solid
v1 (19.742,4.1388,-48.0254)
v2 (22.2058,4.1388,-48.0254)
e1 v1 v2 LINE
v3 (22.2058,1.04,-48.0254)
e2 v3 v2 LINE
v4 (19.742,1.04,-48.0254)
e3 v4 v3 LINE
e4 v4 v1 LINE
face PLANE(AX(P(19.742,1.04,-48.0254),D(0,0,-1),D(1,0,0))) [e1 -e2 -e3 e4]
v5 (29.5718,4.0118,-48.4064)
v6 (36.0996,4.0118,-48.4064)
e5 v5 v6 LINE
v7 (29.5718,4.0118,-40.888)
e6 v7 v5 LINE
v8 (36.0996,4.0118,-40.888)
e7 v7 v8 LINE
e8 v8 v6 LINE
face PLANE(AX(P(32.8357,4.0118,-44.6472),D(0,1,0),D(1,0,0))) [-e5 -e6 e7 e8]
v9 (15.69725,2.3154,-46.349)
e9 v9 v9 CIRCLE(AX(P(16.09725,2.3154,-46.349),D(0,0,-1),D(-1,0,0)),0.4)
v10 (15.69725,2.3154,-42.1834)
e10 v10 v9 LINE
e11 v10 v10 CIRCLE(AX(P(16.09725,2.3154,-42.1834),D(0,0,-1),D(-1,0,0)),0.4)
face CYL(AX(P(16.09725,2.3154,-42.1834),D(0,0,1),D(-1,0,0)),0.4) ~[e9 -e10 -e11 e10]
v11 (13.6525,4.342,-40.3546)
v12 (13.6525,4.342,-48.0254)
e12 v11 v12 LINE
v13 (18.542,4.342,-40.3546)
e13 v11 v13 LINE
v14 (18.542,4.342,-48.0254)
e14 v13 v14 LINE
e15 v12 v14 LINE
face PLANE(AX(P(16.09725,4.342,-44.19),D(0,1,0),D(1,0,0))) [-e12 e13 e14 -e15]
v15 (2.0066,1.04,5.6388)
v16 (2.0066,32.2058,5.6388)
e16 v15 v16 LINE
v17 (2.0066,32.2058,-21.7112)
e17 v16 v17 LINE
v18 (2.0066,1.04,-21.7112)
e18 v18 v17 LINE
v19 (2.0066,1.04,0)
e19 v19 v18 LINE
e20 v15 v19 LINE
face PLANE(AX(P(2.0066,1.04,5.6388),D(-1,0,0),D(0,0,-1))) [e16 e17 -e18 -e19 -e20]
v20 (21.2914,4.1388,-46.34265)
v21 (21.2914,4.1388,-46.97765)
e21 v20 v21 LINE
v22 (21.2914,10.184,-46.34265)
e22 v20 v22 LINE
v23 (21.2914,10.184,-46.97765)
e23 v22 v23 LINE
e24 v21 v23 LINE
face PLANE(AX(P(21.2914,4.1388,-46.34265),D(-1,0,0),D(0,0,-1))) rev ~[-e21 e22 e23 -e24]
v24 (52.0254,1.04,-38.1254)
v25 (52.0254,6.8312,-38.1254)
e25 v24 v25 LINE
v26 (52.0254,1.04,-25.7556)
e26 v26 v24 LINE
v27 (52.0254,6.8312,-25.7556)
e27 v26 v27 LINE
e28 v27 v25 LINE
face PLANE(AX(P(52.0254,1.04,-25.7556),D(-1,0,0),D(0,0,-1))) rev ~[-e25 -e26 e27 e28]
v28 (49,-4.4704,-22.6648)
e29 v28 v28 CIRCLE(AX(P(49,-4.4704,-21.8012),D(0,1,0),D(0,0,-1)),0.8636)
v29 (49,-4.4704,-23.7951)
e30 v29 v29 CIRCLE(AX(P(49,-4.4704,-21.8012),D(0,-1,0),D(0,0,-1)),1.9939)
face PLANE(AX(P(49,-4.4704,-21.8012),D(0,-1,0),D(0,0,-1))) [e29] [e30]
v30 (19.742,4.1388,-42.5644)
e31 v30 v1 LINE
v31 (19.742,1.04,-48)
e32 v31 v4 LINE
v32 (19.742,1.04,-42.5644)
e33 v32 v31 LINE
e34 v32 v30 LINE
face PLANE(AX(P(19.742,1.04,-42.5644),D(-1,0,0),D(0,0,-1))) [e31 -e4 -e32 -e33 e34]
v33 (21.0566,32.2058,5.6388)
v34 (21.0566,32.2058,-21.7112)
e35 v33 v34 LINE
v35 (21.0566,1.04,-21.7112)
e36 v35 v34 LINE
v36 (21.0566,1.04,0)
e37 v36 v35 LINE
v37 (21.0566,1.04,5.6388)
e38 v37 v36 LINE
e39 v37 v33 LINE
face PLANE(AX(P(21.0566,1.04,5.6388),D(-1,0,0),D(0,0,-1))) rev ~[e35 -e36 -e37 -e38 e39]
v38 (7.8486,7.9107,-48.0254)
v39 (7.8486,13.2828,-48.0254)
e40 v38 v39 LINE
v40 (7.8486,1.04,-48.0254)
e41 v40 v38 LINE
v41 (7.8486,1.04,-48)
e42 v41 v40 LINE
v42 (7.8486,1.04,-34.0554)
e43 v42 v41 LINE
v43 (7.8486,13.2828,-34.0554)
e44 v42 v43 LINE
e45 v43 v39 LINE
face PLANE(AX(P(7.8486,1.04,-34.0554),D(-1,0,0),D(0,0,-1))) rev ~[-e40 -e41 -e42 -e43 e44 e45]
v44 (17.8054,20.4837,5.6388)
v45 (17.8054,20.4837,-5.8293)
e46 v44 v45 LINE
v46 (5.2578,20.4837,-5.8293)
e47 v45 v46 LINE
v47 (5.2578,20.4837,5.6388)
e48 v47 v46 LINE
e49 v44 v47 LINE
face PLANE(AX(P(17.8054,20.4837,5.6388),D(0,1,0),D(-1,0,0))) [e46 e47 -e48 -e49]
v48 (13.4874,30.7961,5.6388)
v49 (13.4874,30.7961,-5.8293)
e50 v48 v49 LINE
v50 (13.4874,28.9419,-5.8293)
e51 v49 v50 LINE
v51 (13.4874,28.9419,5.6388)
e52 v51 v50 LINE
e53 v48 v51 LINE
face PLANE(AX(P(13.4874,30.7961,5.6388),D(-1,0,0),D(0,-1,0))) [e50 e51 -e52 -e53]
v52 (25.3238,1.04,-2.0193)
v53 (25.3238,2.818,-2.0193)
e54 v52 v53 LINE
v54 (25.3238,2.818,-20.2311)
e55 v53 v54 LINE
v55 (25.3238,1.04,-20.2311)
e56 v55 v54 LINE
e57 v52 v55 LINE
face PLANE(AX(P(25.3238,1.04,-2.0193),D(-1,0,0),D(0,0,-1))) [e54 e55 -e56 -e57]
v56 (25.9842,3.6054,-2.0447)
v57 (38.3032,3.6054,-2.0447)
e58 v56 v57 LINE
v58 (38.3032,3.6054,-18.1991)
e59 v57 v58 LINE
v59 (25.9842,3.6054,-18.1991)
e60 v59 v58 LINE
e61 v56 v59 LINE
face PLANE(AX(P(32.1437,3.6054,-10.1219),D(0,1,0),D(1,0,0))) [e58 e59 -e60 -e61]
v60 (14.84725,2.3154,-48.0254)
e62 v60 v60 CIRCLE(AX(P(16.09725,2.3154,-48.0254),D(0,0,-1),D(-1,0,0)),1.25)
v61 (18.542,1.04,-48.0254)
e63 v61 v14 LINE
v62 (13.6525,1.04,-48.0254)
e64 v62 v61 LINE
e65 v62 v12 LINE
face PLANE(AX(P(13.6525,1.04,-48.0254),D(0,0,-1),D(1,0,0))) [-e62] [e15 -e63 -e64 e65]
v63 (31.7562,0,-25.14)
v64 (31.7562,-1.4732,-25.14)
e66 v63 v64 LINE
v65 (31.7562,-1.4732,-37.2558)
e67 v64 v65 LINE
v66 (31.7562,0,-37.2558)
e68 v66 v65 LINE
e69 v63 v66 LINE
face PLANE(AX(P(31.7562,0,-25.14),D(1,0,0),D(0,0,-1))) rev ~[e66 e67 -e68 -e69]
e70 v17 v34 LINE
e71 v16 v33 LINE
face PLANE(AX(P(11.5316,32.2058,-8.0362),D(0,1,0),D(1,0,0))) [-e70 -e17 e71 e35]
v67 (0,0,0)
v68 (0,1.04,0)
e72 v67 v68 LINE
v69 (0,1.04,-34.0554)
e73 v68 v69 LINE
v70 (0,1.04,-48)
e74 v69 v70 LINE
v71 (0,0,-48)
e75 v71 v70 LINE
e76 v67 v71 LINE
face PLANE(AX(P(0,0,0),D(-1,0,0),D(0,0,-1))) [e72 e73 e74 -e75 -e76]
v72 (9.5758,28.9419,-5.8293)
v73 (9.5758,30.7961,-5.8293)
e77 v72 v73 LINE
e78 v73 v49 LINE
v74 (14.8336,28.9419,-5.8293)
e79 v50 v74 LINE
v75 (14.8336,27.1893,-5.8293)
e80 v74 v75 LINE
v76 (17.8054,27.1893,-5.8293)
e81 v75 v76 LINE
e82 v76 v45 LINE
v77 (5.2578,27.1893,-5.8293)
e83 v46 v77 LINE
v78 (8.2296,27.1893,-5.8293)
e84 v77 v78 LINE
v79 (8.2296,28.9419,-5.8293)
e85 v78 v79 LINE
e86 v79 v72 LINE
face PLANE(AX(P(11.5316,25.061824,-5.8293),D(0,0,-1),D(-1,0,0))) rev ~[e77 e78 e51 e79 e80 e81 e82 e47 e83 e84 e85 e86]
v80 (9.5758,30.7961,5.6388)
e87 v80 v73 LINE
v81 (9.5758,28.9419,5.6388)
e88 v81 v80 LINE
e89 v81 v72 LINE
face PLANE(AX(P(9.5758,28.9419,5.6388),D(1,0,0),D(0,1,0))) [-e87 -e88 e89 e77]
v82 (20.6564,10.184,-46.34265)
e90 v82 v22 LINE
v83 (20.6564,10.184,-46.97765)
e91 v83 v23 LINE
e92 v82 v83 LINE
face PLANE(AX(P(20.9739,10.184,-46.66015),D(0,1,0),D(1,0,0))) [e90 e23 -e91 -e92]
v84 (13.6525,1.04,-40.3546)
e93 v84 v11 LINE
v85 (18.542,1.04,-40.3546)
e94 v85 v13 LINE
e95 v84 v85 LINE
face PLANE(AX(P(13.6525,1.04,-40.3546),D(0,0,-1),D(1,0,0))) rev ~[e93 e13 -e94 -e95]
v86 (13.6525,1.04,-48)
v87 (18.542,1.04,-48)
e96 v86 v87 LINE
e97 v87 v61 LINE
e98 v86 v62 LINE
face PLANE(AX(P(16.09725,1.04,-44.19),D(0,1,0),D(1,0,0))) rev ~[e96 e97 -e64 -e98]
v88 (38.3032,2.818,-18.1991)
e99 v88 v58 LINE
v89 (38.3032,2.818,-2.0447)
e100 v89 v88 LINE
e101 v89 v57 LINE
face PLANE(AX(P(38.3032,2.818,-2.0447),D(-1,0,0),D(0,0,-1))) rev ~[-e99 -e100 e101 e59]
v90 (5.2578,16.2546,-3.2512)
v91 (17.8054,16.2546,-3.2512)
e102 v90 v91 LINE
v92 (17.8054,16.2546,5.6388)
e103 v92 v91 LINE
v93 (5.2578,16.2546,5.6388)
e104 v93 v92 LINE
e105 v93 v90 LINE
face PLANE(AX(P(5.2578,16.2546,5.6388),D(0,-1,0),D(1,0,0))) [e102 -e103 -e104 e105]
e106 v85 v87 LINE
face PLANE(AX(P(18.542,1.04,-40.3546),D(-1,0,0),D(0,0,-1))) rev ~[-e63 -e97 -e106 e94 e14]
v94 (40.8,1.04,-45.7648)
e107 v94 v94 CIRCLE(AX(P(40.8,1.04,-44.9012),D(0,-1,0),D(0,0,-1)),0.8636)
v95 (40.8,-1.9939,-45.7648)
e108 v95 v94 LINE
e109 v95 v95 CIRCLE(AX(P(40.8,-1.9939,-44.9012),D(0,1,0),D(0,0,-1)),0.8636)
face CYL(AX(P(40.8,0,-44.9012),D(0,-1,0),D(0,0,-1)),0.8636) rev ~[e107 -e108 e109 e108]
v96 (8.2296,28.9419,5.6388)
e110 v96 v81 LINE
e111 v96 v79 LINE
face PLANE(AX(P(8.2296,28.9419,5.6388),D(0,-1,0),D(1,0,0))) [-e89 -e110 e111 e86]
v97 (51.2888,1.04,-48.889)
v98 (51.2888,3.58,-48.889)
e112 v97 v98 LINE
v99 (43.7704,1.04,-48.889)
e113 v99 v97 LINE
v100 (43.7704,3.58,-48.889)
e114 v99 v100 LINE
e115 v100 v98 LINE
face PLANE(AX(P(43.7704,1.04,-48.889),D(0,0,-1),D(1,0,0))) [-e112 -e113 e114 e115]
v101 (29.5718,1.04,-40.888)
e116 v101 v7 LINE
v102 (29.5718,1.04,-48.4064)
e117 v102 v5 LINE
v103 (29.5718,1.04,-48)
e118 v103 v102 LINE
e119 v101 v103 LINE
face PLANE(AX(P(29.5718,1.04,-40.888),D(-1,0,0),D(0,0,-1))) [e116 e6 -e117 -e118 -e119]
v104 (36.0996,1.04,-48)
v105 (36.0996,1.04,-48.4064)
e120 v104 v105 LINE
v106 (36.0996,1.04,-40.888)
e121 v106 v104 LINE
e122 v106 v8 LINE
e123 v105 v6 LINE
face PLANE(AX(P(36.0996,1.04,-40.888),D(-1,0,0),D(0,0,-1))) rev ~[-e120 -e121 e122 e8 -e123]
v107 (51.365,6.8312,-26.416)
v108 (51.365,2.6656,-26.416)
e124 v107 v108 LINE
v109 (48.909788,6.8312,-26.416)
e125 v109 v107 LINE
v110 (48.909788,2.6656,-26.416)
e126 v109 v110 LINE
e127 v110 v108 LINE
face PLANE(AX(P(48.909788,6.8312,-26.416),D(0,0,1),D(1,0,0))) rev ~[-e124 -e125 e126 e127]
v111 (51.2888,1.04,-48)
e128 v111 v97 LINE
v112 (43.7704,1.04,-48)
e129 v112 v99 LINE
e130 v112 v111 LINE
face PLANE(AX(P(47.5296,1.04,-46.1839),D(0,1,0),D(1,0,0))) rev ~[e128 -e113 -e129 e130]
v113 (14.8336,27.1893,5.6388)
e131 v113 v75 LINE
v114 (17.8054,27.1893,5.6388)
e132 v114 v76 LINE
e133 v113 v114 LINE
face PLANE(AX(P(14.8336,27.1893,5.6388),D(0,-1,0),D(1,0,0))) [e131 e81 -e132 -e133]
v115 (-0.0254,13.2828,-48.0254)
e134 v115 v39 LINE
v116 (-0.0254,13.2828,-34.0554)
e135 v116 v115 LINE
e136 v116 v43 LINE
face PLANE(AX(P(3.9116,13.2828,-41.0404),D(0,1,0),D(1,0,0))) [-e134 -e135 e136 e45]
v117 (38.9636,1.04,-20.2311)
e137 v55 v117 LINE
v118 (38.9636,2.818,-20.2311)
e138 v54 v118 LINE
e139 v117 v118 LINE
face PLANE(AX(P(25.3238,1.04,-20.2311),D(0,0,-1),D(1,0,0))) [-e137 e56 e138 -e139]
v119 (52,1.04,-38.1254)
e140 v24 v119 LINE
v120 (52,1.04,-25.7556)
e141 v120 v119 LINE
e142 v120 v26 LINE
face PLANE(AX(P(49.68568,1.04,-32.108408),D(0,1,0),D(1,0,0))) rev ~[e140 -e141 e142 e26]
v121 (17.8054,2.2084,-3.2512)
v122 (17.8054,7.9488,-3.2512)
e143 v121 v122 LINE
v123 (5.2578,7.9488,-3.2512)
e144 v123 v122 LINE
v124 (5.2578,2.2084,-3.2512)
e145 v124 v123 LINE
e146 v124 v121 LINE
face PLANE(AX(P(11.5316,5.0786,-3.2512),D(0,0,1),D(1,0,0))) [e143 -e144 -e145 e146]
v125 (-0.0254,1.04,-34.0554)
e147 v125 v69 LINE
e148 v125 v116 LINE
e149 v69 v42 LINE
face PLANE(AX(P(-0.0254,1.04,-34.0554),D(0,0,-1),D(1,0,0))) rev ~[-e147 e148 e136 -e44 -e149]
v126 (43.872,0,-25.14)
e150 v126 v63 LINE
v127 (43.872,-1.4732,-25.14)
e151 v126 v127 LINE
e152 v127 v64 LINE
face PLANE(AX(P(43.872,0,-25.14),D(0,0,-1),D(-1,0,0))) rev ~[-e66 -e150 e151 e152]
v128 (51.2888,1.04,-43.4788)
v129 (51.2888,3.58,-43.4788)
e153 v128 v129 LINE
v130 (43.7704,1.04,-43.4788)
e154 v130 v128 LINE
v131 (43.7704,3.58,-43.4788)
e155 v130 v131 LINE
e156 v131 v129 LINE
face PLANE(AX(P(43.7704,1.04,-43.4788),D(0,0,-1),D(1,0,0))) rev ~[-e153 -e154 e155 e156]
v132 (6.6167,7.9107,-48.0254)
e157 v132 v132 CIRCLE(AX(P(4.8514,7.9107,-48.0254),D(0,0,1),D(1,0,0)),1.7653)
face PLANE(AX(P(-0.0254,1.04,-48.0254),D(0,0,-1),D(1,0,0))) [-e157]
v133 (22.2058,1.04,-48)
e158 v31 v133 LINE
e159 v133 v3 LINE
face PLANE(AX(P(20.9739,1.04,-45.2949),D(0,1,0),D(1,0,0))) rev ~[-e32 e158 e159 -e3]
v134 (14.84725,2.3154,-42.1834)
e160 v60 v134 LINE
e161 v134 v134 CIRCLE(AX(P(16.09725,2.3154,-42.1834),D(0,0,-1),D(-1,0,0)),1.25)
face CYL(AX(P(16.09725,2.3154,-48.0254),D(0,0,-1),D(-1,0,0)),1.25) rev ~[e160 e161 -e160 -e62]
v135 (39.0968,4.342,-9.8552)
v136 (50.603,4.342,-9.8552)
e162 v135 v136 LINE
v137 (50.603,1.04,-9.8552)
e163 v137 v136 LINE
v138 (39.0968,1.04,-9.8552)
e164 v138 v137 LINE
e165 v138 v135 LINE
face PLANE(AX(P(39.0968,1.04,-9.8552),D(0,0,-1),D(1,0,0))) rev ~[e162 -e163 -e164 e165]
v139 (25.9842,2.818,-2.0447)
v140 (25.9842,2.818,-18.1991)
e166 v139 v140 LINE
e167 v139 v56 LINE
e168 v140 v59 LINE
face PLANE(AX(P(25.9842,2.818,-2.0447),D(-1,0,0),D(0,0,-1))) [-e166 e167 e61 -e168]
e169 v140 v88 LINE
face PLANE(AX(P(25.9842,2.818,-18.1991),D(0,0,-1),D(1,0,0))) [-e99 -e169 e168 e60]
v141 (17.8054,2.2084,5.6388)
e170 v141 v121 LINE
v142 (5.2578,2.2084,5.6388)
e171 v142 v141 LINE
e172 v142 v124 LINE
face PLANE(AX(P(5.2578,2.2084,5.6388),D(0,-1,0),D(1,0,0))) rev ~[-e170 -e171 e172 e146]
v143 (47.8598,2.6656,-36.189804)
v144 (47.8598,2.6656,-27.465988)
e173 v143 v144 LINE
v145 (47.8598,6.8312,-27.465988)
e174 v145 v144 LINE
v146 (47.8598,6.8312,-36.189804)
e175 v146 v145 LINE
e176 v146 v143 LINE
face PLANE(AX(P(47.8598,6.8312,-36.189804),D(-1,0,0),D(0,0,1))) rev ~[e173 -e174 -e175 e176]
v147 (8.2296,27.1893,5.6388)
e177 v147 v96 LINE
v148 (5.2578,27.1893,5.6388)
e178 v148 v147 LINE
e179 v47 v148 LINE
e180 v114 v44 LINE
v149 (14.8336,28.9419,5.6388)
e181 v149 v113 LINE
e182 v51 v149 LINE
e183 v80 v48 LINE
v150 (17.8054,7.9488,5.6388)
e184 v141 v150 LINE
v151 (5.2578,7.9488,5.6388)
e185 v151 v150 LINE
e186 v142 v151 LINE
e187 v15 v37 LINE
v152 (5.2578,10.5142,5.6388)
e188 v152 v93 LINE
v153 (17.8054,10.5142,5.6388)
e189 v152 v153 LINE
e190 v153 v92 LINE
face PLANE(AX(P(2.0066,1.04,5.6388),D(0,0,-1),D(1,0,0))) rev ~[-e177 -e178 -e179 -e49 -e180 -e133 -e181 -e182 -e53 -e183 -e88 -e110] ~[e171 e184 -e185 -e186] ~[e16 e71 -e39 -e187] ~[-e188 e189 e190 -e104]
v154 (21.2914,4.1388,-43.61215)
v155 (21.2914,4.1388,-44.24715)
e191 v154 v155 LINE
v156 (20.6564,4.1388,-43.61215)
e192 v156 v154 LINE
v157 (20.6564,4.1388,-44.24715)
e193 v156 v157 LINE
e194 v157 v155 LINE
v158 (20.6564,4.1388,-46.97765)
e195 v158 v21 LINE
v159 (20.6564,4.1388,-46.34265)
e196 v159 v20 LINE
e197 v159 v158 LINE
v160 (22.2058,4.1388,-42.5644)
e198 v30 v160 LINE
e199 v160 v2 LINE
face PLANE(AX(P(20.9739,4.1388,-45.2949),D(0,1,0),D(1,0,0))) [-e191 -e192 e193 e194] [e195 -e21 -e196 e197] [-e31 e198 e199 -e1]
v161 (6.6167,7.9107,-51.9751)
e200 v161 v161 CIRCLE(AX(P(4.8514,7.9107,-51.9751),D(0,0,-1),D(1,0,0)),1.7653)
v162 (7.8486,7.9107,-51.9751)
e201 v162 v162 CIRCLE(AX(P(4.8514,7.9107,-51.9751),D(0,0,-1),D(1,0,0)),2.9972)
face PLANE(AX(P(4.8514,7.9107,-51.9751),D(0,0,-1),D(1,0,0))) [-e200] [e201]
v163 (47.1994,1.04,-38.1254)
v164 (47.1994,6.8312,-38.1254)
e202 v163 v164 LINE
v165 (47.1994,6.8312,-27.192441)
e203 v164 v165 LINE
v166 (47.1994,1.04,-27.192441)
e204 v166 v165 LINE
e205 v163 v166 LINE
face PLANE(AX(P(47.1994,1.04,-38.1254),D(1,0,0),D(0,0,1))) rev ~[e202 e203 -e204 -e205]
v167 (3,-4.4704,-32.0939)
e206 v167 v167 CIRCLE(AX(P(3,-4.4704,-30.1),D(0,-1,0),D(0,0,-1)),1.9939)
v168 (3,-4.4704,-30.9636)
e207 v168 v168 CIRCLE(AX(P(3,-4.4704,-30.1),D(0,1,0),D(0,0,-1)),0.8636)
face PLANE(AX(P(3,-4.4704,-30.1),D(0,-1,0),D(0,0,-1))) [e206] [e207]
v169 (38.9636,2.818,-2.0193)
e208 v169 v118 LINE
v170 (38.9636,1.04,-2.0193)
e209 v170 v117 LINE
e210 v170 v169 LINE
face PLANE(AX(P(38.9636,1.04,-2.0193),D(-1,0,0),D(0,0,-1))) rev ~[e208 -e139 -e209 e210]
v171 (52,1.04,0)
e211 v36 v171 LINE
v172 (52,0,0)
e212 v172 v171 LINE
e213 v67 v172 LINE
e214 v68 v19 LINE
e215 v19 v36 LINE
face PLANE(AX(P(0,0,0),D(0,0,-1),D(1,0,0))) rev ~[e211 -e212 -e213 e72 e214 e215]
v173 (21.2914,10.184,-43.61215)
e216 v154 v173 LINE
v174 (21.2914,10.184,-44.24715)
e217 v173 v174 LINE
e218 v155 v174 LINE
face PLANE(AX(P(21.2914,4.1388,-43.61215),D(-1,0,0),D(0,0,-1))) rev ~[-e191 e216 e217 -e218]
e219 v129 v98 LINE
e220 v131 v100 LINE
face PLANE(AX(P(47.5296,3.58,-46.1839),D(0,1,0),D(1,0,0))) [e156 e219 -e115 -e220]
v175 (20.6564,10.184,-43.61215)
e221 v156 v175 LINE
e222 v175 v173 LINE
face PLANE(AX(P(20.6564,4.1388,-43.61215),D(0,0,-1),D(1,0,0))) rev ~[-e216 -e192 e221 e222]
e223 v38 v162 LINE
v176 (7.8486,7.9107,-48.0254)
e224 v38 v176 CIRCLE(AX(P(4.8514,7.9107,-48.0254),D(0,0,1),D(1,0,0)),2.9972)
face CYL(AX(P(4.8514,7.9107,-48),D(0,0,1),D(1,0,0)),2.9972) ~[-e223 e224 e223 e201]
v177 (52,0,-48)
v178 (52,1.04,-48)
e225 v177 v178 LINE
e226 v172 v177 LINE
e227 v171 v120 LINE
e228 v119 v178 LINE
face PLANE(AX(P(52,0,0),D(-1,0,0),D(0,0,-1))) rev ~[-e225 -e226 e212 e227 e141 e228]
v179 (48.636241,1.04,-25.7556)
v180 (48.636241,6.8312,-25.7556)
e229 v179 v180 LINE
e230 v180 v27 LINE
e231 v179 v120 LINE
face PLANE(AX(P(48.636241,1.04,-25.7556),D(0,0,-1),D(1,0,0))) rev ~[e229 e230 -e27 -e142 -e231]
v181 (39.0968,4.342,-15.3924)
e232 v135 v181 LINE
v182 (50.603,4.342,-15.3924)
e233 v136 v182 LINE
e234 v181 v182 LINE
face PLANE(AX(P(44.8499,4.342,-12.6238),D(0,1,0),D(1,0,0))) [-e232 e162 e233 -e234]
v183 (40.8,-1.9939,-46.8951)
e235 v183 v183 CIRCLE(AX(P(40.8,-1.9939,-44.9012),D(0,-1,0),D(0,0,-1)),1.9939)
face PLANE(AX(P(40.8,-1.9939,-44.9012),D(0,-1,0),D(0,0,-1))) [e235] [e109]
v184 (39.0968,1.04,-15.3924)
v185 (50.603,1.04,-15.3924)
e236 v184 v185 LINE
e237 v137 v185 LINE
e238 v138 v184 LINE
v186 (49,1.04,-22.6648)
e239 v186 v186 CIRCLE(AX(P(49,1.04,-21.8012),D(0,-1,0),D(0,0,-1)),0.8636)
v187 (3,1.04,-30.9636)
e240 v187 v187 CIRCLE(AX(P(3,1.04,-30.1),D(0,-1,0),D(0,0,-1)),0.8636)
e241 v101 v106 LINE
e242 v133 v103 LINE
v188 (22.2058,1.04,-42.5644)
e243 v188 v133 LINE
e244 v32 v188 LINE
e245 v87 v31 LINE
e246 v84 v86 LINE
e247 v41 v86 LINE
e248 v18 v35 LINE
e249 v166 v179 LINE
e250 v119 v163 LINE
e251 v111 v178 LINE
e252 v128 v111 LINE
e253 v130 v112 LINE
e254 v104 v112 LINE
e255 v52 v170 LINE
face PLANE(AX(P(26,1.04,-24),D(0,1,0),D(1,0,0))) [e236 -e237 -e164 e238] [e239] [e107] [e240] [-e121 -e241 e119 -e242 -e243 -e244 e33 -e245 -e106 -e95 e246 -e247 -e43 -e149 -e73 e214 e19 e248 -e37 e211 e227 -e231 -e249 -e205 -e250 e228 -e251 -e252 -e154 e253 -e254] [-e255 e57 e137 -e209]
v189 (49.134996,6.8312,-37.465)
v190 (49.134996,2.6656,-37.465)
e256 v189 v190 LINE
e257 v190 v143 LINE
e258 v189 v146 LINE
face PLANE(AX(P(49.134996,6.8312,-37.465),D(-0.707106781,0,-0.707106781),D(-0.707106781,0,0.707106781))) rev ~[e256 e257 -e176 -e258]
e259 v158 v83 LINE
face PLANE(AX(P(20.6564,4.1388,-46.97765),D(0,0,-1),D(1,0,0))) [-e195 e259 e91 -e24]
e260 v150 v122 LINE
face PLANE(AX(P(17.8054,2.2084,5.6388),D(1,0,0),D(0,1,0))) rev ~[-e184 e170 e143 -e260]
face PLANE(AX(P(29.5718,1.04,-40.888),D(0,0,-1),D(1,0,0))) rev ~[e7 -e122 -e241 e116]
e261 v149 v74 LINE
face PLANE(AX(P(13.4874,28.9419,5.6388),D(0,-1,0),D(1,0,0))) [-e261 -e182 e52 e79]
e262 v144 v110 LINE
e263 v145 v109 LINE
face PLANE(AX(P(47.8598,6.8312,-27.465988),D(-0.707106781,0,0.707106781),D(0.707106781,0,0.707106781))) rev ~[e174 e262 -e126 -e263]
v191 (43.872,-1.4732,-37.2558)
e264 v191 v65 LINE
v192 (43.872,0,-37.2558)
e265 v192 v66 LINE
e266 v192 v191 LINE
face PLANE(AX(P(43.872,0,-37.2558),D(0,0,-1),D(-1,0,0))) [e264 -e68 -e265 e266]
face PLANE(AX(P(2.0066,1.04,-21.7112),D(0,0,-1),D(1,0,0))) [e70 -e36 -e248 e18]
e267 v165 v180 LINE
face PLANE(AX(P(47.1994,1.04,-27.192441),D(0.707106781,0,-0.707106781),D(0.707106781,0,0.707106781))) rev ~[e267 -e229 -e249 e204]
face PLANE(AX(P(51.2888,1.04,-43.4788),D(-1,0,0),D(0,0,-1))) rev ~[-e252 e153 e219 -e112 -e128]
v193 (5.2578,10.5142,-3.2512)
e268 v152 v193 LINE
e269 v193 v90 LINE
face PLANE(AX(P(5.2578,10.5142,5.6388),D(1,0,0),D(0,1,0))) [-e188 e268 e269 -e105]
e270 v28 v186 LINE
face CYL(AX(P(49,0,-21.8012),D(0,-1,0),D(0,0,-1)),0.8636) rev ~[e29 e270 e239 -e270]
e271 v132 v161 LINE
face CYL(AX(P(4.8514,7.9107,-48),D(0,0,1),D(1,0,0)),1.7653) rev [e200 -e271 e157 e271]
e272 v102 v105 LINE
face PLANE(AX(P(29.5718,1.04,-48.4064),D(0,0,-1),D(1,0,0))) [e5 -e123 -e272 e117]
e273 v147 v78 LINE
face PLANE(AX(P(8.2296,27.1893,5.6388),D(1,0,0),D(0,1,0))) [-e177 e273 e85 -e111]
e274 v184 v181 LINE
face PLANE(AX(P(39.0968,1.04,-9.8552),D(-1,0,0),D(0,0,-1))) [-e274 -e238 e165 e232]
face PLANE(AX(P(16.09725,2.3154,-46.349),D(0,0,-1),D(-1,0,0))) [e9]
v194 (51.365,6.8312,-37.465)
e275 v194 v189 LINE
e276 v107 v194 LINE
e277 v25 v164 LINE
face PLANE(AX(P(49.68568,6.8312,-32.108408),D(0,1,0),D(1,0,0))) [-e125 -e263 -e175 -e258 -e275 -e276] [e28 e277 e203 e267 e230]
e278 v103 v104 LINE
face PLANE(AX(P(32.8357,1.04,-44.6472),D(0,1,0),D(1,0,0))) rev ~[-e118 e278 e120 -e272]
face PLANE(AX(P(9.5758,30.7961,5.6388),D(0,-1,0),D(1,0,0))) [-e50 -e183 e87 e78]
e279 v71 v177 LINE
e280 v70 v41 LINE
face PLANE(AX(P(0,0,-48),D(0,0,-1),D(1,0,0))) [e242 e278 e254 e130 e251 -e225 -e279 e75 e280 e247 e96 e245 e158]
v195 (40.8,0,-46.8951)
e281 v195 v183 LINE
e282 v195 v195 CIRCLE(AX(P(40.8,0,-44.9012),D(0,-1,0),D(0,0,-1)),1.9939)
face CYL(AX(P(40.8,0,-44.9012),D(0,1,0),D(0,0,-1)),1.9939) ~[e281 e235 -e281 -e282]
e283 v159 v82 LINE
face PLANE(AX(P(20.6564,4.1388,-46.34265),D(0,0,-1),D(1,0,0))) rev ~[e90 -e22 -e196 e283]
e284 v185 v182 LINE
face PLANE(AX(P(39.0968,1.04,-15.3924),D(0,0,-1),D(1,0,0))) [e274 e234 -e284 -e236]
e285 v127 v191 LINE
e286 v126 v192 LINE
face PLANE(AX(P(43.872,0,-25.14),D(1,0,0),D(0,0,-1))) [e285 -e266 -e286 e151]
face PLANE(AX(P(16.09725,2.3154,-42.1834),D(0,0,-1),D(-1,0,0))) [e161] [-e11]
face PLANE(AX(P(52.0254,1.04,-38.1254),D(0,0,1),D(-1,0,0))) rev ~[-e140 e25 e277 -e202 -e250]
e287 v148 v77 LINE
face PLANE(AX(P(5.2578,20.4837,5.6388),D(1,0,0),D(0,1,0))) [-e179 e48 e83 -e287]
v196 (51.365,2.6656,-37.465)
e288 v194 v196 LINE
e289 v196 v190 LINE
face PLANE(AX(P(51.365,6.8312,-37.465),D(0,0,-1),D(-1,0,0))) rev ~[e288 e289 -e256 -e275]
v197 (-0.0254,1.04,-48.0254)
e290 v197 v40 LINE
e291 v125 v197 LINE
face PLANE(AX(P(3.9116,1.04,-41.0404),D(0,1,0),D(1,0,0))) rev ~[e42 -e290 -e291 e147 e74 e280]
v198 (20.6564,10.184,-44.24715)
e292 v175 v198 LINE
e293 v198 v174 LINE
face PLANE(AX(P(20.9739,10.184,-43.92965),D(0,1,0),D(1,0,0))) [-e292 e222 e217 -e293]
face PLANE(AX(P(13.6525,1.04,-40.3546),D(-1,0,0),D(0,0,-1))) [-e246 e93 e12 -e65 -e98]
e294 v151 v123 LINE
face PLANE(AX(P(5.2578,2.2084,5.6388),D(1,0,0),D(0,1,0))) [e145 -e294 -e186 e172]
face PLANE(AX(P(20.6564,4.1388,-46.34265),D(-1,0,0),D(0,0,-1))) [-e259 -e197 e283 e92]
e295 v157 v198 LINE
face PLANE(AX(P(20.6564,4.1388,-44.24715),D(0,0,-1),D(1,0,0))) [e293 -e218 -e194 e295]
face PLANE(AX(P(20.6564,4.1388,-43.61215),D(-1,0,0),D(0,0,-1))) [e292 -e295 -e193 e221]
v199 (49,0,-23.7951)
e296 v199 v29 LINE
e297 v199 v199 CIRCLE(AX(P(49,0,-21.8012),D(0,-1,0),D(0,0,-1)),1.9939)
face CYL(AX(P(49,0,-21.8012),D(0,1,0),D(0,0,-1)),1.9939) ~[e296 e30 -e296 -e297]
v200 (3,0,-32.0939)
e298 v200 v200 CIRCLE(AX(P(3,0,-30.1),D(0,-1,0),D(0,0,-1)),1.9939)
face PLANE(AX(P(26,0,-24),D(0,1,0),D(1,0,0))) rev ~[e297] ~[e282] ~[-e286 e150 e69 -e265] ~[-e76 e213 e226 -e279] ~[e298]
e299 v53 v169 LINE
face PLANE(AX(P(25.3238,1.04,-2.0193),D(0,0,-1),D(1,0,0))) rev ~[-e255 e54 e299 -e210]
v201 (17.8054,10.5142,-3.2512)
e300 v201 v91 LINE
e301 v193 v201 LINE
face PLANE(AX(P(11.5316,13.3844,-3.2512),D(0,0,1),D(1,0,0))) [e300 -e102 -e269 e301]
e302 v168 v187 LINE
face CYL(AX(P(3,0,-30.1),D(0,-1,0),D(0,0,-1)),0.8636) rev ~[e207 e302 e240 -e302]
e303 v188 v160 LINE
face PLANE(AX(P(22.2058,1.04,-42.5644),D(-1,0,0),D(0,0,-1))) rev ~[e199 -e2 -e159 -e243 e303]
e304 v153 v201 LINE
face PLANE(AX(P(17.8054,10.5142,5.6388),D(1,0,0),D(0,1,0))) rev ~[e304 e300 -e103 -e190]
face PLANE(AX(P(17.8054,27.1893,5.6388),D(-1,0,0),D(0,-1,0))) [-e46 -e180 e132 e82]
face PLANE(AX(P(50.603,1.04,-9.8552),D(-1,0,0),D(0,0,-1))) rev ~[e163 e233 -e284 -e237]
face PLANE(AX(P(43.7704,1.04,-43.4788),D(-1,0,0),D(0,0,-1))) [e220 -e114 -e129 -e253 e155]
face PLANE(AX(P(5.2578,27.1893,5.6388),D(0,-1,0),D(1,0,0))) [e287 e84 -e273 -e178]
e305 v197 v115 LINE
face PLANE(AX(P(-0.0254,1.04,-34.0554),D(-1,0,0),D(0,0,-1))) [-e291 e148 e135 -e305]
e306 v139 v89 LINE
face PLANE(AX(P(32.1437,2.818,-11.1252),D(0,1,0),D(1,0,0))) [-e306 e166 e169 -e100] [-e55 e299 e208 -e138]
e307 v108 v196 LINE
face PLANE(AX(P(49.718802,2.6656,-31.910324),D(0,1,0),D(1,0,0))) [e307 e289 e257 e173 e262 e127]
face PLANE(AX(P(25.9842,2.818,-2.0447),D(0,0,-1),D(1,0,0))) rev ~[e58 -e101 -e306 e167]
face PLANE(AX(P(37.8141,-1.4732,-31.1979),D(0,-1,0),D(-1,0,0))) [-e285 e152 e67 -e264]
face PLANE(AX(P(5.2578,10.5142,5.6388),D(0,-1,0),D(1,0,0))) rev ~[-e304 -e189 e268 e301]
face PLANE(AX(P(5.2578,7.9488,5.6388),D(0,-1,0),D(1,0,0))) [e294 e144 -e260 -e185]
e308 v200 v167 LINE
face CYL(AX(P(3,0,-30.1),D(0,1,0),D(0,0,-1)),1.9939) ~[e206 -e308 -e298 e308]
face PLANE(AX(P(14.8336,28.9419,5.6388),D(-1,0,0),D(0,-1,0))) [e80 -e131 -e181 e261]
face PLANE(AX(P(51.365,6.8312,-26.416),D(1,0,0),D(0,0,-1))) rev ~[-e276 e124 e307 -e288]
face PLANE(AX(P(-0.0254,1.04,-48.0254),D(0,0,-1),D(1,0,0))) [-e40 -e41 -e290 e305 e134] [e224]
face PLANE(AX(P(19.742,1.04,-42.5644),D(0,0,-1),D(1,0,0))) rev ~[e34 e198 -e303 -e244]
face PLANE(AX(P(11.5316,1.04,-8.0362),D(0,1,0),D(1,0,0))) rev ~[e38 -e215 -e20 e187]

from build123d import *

# Parameters (mm, degrees)
SKETCH1_W                   = 52
SKETCH1_H                   = 48
BASE_DEPTH                  = 1.04
SKETCH3_W                   = 19.05
SKETCH3_H                   = 27.35
ETHERNET_USB_LINKPP_DEPTH   = 31.1658
SKETCH4_W                   = 12.5476
SKETCH4_H                   = 5.7404
USB_PORTS_DEPTH             = 8.89
ETHERNET_PORT_DEPTH         = 11.4681
SKETCH6_W                   = 7.874
SKETCH6_H                   = 13.97
HEADPHONE_JACK_DEPTH        = 12.2428
SKETCH7_R                   = 2.9972
SKETCH7_R_2                 = 1.7653
HEADPHONE_JACK_CIRCLE_DEPTH = 3.9751
SKETCH8_W                   = 4.8895
SKETCH8_H                   = 7.6708
DC_POWER_DEPTH              = 3.302
SKETCH9_R                   = 1.25
DC_POWER_HOLE_DEPTH         = 5.842
SKETCH10_R                  = 0.4
DC_POWER_PIN_DEPTH          = 4.1656
SKETCH11_W                  = 2.4638
SKETCH11_H                  = 5.461
PWM_PIN_BASE_DEPTH          = 3.0988
SKETCH12_W                  = 0.635
SKETCH12_H                  = 0.635
PWM_PINS_DEPTH              = 6.0452
SKETCH13_W                  = 6.5278
SKETCH13_H                  = 7.5184
MICRO_HDMI_PORT_DEPTH       = 2.9718
SKETCH14_W                  = 7.5184
SKETCH14_H                  = 5.4102
MICRO_USB_PORT_DEPTH        = 2.54
HEADER_HOLE_REACH           = 82.266
SKETCH15_R                  = 0.8636
SKETCH16_R                  = 1.9939
STANDOFFS_1_DEPTH           = 4.4704
SKETCH17_R                  = 1.9939
SHORT_STANDOFF_DEPTH        = 1.9939
THREADS_IN_STANDOFFS_REACH  = 82.266
SKETCH19_R                  = 0.8636
SKETCH20_W                  = 12.1158
SKETCH20_H                  = 12.1158
CPU_DEPTH                   = 1.4732
UART_PLASTIC_DEPTH          = 5.7912
UART_HOLE_DEPTH             = 4.1656
SKETCH23_W                  = 11.5062
SKETCH23_H                  = 5.5372
MICROSD_DEPTH               = 3.302
SKETCH24_W                  = 13.6398
SKETCH24_H                  = 18.2118
EMMC_BOARD_DEPTH            = 1.778
SKETCH25_W                  = 12.319
SKETCH25_H                  = 16.1544
EMMC_CHIP_DEPTH             = 0.7874


with BuildPart() as part:
    # Sketch1 → Base (new body)
    with BuildSketch(Plane(origin=(0, 0, 0), x_dir=(1, 0, 0), z_dir=(0, 1, 0))):
        with Locations((26, 24)):
            Rectangle(SKETCH1_W, SKETCH1_H)
    extrude(amount=BASE_DEPTH)

    # Sketch3 → Ethernet-USB-LinkPP (add)
    with BuildSketch(Plane(origin=(0, 1.04, 0), x_dir=(1, 0, 0), z_dir=(0, 1, 0))):
        with Locations((11.5316, 8.0362)):
            Rectangle(SKETCH3_W, SKETCH3_H)
    extrude(amount=ETHERNET_USB_LINKPP_DEPTH)

    # Sketch4 → USB ports (cut)
    with BuildSketch(Plane.XY.offset(5.6388)):
        with Locations((11.5316, 5.0786)):
            Rectangle(SKETCH4_W, SKETCH4_H)
        with Locations((11.5316, 13.3844)):
            Rectangle(SKETCH4_W, SKETCH4_H)
    extrude(amount=-USB_PORTS_DEPTH, mode=Mode.SUBTRACT)

    # Sketch5 → Ethernet port (cut)
    with BuildSketch(Plane.XY.offset(5.6388)):
        Polygon((5.2578, 27.1893), (8.2296, 27.1893), (8.2296, 28.9419), (9.5758, 28.9419), (9.5758, 30.7961), (13.4874, 30.7961), (13.4874, 28.9419), (14.8336, 28.9419), (14.8336, 27.1893), (17.8054, 27.1893), (17.8054, 20.4837), (5.2578, 20.4837), align=None)
    extrude(amount=-ETHERNET_PORT_DEPTH, mode=Mode.SUBTRACT)

    # Sketch6 → Headphone jack (add)
    with BuildSketch(Plane(origin=(0, 1.04, 0), x_dir=(1, 0, 0), z_dir=(0, 1, 0))):
        with Locations((3.9116, 41.0404)):
            Rectangle(SKETCH6_W, SKETCH6_H)
    extrude(amount=HEADPHONE_JACK_DEPTH)

    # Sketch7 → Headphone jack circle (add)
    with BuildSketch(Plane(origin=(0, 0, -48), x_dir=(-1, 0, 0), z_dir=(0, 0, -1))):
        with Locations(Location((-4.8514, 7.9107, 0), (0, 0, 180))):
            Circle(SKETCH7_R)
        with Locations(Location((-4.8514, 7.9107, 0), (0, 0, 180))):
            Circle(SKETCH7_R_2, mode=Mode.SUBTRACT)
    extrude(amount=HEADPHONE_JACK_CIRCLE_DEPTH)

    # Sketch8 → DC power (add)
    with BuildSketch(Plane(origin=(0, 1.04, 0), x_dir=(1, 0, 0), z_dir=(0, 1, 0))):
        with Locations((16.09725, 44.19)):
            Rectangle(SKETCH8_W, SKETCH8_H)
    extrude(amount=DC_POWER_DEPTH)

    # Sketch9 → DC power hole (cut)
    with BuildSketch(Plane(origin=(0, 0, -48.0254), x_dir=(-1, 0, 0), z_dir=(0, 0, -1))):
        with Locations((-16.09725, 2.3154)):
            Circle(SKETCH9_R)
    extrude(amount=-DC_POWER_HOLE_DEPTH, mode=Mode.SUBTRACT)

    # Sketch10 → DC power pin (add)
    with BuildSketch(Plane(origin=(0, 0, -42.1834), x_dir=(-1, 0, 0), z_dir=(0, 0, -1))):
        with Locations((-16.09725, 2.3154)):
            Circle(SKETCH10_R)
    extrude(amount=DC_POWER_PIN_DEPTH)

    # Sketch11 → PWM pin base (add)
    with BuildSketch(Plane(origin=(0, 1.04, 0), x_dir=(1, 0, 0), z_dir=(0, 1, 0))):
        with Locations((20.9739, 45.2949)):
            Rectangle(SKETCH11_W, SKETCH11_H)
    extrude(amount=PWM_PIN_BASE_DEPTH)

    # Sketch12 → PWM pins (add)
    with BuildSketch(Plane(origin=(0, 4.1388, 0), x_dir=(1, 0, 0), z_dir=(0, 1, 0))):
        with Locations((20.9739, 43.92965)):
            Rectangle(SKETCH12_W, SKETCH12_H)
        with Locations((20.9739, 46.66015)):
            Rectangle(SKETCH12_W, SKETCH12_H)
    extrude(amount=PWM_PINS_DEPTH)

    # Sketch13 → Micro HDMI port (add)
    with BuildSketch(Plane(origin=(0, 1.04, 0), x_dir=(1, 0, 0), z_dir=(0, 1, 0))):
        with Locations((32.8357, 44.6472)):
            Rectangle(SKETCH13_W, SKETCH13_H)
    extrude(amount=MICRO_HDMI_PORT_DEPTH)

    # Sketch14 → Micro USB port (add)
    with BuildSketch(Plane(origin=(0, 1.04, 0), x_dir=(1, 0, 0), z_dir=(0, 1, 0))):
        with Locations((47.5296, 46.1839)):
            Rectangle(SKETCH14_W, SKETCH14_H)
    extrude(amount=MICRO_USB_PORT_DEPTH)

    # Sketch15 → Header hole (cut, up to next)
    with BuildSketch(Plane(origin=(0, 0, 0), x_dir=(-1, 0, 0), z_dir=(0, -1, 0)), mode=Mode.PRIVATE) as header_hole_sk1:
        with Locations(Location((-3, 30.1, 0), (0, 0, 90))):
            Circle(SKETCH15_R)
    header_hole_tool1 = extrude(header_hole_sk1.sketch, amount=-HEADER_HOLE_REACH, mode=Mode.PRIVATE) & part.part
    # Sketch15 → Header hole (cut, up to next)
    with BuildSketch(Plane(origin=(0, 0, 0), x_dir=(-1, 0, 0), z_dir=(0, -1, 0)), mode=Mode.PRIVATE) as header_hole_sk2:
        with Locations(Location((-49, 21.8012, 0), (0, 0, 90))):
            Circle(SKETCH15_R)
    header_hole_tool2 = extrude(header_hole_sk2.sketch, amount=-HEADER_HOLE_REACH, mode=Mode.PRIVATE) & part.part
    # Sketch15 → Header hole (cut, up to next)
    with BuildSketch(Plane(origin=(0, 0, 0), x_dir=(-1, 0, 0), z_dir=(0, -1, 0)), mode=Mode.PRIVATE) as header_hole_sk3:
        with Locations(Location((-40.8, 44.9012, 0), (0, 0, 90))):
            Circle(SKETCH15_R)
    header_hole_tool3 = extrude(header_hole_sk3.sketch, amount=-HEADER_HOLE_REACH, mode=Mode.PRIVATE) & part.part
    add(header_hole_tool1.solids().sort_by_distance((3, 0, -30.1))[0], mode=Mode.SUBTRACT)
    add(header_hole_tool2.solids().sort_by_distance((49, 0, -21.8012))[0], mode=Mode.SUBTRACT)
    add(header_hole_tool3.solids().sort_by_distance((40.8, 0, -44.9012))[0], mode=Mode.SUBTRACT)

    # Sketch16 → Standoffs 1 (add)
    with BuildSketch(Plane.XZ):
        with Locations(Location((49, -21.8012, 0), (0, 0, 270))):
            Circle(SKETCH16_R)
        with Locations(Location((3, -30.1, 0), (0, 0, 270))):
            Circle(SKETCH16_R)
    extrude(amount=STANDOFFS_1_DEPTH)

    # Sketch17 → Short standoff (add)
    with BuildSketch(Plane.XZ):
        with Locations(Location((40.8, -44.9012, 0), (0, 0, 270))):
            Circle(SKETCH17_R)
    extrude(amount=SHORT_STANDOFF_DEPTH)

    # Sketch19 → Threads in standoffs (cut, up to next)
    with BuildSketch(Plane.XZ, mode=Mode.PRIVATE) as threads_in_standoffs_sk1:
        with Locations(Location((40.8, -44.9012, 0), (0, 0, 270))):
            Circle(SKETCH19_R)
    threads_in_standoffs_tool1 = extrude(threads_in_standoffs_sk1.sketch, amount=THREADS_IN_STANDOFFS_REACH, mode=Mode.PRIVATE) & part.part
    # Sketch19 → Threads in standoffs (cut, up to next)
    with BuildSketch(Plane.XZ, mode=Mode.PRIVATE) as threads_in_standoffs_sk2:
        with Locations(Location((49, -21.8012, 0), (0, 0, 270))):
            Circle(SKETCH19_R)
    threads_in_standoffs_tool2 = extrude(threads_in_standoffs_sk2.sketch, amount=THREADS_IN_STANDOFFS_REACH, mode=Mode.PRIVATE) & part.part
    # Sketch19 → Threads in standoffs (cut, up to next)
    with BuildSketch(Plane.XZ, mode=Mode.PRIVATE) as threads_in_standoffs_sk3:
        with Locations(Location((3, -30.1, 0), (0, 0, 270))):
            Circle(SKETCH19_R)
    threads_in_standoffs_tool3 = extrude(threads_in_standoffs_sk3.sketch, amount=THREADS_IN_STANDOFFS_REACH, mode=Mode.PRIVATE) & part.part
    add(threads_in_standoffs_tool1.solids().sort_by_distance((40.8, 0, -44.9012))[0], mode=Mode.SUBTRACT)
    add(threads_in_standoffs_tool2.solids().sort_by_distance((49, 0, -21.8012))[0], mode=Mode.SUBTRACT)
    add(threads_in_standoffs_tool3.solids().sort_by_distance((3, 0, -30.1))[0], mode=Mode.SUBTRACT)

    # Sketch20 → CPU (add)
    with BuildSketch(Plane(origin=(0, 0, 0), x_dir=(-1, 0, 0), z_dir=(0, -1, 0))):
        with Locations((-37.8141, 31.1979)):
            Rectangle(SKETCH20_W, SKETCH20_H)
    extrude(amount=CPU_DEPTH)

    # Sketch21 → UART plastic (add)
    with BuildSketch(Plane(origin=(0, 1.04, 0), x_dir=(1, 0, 0), z_dir=(0, 1, 0))):
        Polygon((52.0254, 38.1254), (47.1994, 38.1254), (47.1994, 27.192440979), (48.636240979, 25.7556), (52.0254, 25.7556), align=None)
    extrude(amount=UART_PLASTIC_DEPTH)

    # Sketch22 → UART hole (cut)
    with BuildSketch(Plane(origin=(0, 6.8312, 0), x_dir=(1, 0, 0), z_dir=(0, 1, 0))):
        Polygon((51.365, 37.465), (49.134996369, 37.465), (47.8598, 36.189803631), (47.8598, 27.465987616), (48.909787616, 26.416), (51.365, 26.416), align=None)
    extrude(amount=-UART_HOLE_DEPTH, mode=Mode.SUBTRACT)

    # Sketch23 → MicroSD (add)
    with BuildSketch(Plane(origin=(0, 1.04, 0), x_dir=(1, 0, 0), z_dir=(0, 1, 0))):
        with Locations((44.8499, 12.6238)):
            Rectangle(SKETCH23_W, SKETCH23_H)
    extrude(amount=MICROSD_DEPTH)

    # Sketch24 → eMMC board (add)
    with BuildSketch(Plane(origin=(0, 1.04, 0), x_dir=(1, 0, 0), z_dir=(0, 1, 0))):
        with Locations((32.1437, 11.1252)):
            Rectangle(SKETCH24_W, SKETCH24_H)
    extrude(amount=EMMC_BOARD_DEPTH)

    # Sketch25 → eMMC chip (add)
    with BuildSketch(Plane(origin=(0, 2.818, 0), x_dir=(1, 0, 0), z_dir=(0, 1, 0))):
        with Locations((32.1437, 10.1219)):
            Rectangle(SKETCH25_W, SKETCH25_H)
    extrude(amount=EMMC_CHIP_DEPTH)


solid = part.part
